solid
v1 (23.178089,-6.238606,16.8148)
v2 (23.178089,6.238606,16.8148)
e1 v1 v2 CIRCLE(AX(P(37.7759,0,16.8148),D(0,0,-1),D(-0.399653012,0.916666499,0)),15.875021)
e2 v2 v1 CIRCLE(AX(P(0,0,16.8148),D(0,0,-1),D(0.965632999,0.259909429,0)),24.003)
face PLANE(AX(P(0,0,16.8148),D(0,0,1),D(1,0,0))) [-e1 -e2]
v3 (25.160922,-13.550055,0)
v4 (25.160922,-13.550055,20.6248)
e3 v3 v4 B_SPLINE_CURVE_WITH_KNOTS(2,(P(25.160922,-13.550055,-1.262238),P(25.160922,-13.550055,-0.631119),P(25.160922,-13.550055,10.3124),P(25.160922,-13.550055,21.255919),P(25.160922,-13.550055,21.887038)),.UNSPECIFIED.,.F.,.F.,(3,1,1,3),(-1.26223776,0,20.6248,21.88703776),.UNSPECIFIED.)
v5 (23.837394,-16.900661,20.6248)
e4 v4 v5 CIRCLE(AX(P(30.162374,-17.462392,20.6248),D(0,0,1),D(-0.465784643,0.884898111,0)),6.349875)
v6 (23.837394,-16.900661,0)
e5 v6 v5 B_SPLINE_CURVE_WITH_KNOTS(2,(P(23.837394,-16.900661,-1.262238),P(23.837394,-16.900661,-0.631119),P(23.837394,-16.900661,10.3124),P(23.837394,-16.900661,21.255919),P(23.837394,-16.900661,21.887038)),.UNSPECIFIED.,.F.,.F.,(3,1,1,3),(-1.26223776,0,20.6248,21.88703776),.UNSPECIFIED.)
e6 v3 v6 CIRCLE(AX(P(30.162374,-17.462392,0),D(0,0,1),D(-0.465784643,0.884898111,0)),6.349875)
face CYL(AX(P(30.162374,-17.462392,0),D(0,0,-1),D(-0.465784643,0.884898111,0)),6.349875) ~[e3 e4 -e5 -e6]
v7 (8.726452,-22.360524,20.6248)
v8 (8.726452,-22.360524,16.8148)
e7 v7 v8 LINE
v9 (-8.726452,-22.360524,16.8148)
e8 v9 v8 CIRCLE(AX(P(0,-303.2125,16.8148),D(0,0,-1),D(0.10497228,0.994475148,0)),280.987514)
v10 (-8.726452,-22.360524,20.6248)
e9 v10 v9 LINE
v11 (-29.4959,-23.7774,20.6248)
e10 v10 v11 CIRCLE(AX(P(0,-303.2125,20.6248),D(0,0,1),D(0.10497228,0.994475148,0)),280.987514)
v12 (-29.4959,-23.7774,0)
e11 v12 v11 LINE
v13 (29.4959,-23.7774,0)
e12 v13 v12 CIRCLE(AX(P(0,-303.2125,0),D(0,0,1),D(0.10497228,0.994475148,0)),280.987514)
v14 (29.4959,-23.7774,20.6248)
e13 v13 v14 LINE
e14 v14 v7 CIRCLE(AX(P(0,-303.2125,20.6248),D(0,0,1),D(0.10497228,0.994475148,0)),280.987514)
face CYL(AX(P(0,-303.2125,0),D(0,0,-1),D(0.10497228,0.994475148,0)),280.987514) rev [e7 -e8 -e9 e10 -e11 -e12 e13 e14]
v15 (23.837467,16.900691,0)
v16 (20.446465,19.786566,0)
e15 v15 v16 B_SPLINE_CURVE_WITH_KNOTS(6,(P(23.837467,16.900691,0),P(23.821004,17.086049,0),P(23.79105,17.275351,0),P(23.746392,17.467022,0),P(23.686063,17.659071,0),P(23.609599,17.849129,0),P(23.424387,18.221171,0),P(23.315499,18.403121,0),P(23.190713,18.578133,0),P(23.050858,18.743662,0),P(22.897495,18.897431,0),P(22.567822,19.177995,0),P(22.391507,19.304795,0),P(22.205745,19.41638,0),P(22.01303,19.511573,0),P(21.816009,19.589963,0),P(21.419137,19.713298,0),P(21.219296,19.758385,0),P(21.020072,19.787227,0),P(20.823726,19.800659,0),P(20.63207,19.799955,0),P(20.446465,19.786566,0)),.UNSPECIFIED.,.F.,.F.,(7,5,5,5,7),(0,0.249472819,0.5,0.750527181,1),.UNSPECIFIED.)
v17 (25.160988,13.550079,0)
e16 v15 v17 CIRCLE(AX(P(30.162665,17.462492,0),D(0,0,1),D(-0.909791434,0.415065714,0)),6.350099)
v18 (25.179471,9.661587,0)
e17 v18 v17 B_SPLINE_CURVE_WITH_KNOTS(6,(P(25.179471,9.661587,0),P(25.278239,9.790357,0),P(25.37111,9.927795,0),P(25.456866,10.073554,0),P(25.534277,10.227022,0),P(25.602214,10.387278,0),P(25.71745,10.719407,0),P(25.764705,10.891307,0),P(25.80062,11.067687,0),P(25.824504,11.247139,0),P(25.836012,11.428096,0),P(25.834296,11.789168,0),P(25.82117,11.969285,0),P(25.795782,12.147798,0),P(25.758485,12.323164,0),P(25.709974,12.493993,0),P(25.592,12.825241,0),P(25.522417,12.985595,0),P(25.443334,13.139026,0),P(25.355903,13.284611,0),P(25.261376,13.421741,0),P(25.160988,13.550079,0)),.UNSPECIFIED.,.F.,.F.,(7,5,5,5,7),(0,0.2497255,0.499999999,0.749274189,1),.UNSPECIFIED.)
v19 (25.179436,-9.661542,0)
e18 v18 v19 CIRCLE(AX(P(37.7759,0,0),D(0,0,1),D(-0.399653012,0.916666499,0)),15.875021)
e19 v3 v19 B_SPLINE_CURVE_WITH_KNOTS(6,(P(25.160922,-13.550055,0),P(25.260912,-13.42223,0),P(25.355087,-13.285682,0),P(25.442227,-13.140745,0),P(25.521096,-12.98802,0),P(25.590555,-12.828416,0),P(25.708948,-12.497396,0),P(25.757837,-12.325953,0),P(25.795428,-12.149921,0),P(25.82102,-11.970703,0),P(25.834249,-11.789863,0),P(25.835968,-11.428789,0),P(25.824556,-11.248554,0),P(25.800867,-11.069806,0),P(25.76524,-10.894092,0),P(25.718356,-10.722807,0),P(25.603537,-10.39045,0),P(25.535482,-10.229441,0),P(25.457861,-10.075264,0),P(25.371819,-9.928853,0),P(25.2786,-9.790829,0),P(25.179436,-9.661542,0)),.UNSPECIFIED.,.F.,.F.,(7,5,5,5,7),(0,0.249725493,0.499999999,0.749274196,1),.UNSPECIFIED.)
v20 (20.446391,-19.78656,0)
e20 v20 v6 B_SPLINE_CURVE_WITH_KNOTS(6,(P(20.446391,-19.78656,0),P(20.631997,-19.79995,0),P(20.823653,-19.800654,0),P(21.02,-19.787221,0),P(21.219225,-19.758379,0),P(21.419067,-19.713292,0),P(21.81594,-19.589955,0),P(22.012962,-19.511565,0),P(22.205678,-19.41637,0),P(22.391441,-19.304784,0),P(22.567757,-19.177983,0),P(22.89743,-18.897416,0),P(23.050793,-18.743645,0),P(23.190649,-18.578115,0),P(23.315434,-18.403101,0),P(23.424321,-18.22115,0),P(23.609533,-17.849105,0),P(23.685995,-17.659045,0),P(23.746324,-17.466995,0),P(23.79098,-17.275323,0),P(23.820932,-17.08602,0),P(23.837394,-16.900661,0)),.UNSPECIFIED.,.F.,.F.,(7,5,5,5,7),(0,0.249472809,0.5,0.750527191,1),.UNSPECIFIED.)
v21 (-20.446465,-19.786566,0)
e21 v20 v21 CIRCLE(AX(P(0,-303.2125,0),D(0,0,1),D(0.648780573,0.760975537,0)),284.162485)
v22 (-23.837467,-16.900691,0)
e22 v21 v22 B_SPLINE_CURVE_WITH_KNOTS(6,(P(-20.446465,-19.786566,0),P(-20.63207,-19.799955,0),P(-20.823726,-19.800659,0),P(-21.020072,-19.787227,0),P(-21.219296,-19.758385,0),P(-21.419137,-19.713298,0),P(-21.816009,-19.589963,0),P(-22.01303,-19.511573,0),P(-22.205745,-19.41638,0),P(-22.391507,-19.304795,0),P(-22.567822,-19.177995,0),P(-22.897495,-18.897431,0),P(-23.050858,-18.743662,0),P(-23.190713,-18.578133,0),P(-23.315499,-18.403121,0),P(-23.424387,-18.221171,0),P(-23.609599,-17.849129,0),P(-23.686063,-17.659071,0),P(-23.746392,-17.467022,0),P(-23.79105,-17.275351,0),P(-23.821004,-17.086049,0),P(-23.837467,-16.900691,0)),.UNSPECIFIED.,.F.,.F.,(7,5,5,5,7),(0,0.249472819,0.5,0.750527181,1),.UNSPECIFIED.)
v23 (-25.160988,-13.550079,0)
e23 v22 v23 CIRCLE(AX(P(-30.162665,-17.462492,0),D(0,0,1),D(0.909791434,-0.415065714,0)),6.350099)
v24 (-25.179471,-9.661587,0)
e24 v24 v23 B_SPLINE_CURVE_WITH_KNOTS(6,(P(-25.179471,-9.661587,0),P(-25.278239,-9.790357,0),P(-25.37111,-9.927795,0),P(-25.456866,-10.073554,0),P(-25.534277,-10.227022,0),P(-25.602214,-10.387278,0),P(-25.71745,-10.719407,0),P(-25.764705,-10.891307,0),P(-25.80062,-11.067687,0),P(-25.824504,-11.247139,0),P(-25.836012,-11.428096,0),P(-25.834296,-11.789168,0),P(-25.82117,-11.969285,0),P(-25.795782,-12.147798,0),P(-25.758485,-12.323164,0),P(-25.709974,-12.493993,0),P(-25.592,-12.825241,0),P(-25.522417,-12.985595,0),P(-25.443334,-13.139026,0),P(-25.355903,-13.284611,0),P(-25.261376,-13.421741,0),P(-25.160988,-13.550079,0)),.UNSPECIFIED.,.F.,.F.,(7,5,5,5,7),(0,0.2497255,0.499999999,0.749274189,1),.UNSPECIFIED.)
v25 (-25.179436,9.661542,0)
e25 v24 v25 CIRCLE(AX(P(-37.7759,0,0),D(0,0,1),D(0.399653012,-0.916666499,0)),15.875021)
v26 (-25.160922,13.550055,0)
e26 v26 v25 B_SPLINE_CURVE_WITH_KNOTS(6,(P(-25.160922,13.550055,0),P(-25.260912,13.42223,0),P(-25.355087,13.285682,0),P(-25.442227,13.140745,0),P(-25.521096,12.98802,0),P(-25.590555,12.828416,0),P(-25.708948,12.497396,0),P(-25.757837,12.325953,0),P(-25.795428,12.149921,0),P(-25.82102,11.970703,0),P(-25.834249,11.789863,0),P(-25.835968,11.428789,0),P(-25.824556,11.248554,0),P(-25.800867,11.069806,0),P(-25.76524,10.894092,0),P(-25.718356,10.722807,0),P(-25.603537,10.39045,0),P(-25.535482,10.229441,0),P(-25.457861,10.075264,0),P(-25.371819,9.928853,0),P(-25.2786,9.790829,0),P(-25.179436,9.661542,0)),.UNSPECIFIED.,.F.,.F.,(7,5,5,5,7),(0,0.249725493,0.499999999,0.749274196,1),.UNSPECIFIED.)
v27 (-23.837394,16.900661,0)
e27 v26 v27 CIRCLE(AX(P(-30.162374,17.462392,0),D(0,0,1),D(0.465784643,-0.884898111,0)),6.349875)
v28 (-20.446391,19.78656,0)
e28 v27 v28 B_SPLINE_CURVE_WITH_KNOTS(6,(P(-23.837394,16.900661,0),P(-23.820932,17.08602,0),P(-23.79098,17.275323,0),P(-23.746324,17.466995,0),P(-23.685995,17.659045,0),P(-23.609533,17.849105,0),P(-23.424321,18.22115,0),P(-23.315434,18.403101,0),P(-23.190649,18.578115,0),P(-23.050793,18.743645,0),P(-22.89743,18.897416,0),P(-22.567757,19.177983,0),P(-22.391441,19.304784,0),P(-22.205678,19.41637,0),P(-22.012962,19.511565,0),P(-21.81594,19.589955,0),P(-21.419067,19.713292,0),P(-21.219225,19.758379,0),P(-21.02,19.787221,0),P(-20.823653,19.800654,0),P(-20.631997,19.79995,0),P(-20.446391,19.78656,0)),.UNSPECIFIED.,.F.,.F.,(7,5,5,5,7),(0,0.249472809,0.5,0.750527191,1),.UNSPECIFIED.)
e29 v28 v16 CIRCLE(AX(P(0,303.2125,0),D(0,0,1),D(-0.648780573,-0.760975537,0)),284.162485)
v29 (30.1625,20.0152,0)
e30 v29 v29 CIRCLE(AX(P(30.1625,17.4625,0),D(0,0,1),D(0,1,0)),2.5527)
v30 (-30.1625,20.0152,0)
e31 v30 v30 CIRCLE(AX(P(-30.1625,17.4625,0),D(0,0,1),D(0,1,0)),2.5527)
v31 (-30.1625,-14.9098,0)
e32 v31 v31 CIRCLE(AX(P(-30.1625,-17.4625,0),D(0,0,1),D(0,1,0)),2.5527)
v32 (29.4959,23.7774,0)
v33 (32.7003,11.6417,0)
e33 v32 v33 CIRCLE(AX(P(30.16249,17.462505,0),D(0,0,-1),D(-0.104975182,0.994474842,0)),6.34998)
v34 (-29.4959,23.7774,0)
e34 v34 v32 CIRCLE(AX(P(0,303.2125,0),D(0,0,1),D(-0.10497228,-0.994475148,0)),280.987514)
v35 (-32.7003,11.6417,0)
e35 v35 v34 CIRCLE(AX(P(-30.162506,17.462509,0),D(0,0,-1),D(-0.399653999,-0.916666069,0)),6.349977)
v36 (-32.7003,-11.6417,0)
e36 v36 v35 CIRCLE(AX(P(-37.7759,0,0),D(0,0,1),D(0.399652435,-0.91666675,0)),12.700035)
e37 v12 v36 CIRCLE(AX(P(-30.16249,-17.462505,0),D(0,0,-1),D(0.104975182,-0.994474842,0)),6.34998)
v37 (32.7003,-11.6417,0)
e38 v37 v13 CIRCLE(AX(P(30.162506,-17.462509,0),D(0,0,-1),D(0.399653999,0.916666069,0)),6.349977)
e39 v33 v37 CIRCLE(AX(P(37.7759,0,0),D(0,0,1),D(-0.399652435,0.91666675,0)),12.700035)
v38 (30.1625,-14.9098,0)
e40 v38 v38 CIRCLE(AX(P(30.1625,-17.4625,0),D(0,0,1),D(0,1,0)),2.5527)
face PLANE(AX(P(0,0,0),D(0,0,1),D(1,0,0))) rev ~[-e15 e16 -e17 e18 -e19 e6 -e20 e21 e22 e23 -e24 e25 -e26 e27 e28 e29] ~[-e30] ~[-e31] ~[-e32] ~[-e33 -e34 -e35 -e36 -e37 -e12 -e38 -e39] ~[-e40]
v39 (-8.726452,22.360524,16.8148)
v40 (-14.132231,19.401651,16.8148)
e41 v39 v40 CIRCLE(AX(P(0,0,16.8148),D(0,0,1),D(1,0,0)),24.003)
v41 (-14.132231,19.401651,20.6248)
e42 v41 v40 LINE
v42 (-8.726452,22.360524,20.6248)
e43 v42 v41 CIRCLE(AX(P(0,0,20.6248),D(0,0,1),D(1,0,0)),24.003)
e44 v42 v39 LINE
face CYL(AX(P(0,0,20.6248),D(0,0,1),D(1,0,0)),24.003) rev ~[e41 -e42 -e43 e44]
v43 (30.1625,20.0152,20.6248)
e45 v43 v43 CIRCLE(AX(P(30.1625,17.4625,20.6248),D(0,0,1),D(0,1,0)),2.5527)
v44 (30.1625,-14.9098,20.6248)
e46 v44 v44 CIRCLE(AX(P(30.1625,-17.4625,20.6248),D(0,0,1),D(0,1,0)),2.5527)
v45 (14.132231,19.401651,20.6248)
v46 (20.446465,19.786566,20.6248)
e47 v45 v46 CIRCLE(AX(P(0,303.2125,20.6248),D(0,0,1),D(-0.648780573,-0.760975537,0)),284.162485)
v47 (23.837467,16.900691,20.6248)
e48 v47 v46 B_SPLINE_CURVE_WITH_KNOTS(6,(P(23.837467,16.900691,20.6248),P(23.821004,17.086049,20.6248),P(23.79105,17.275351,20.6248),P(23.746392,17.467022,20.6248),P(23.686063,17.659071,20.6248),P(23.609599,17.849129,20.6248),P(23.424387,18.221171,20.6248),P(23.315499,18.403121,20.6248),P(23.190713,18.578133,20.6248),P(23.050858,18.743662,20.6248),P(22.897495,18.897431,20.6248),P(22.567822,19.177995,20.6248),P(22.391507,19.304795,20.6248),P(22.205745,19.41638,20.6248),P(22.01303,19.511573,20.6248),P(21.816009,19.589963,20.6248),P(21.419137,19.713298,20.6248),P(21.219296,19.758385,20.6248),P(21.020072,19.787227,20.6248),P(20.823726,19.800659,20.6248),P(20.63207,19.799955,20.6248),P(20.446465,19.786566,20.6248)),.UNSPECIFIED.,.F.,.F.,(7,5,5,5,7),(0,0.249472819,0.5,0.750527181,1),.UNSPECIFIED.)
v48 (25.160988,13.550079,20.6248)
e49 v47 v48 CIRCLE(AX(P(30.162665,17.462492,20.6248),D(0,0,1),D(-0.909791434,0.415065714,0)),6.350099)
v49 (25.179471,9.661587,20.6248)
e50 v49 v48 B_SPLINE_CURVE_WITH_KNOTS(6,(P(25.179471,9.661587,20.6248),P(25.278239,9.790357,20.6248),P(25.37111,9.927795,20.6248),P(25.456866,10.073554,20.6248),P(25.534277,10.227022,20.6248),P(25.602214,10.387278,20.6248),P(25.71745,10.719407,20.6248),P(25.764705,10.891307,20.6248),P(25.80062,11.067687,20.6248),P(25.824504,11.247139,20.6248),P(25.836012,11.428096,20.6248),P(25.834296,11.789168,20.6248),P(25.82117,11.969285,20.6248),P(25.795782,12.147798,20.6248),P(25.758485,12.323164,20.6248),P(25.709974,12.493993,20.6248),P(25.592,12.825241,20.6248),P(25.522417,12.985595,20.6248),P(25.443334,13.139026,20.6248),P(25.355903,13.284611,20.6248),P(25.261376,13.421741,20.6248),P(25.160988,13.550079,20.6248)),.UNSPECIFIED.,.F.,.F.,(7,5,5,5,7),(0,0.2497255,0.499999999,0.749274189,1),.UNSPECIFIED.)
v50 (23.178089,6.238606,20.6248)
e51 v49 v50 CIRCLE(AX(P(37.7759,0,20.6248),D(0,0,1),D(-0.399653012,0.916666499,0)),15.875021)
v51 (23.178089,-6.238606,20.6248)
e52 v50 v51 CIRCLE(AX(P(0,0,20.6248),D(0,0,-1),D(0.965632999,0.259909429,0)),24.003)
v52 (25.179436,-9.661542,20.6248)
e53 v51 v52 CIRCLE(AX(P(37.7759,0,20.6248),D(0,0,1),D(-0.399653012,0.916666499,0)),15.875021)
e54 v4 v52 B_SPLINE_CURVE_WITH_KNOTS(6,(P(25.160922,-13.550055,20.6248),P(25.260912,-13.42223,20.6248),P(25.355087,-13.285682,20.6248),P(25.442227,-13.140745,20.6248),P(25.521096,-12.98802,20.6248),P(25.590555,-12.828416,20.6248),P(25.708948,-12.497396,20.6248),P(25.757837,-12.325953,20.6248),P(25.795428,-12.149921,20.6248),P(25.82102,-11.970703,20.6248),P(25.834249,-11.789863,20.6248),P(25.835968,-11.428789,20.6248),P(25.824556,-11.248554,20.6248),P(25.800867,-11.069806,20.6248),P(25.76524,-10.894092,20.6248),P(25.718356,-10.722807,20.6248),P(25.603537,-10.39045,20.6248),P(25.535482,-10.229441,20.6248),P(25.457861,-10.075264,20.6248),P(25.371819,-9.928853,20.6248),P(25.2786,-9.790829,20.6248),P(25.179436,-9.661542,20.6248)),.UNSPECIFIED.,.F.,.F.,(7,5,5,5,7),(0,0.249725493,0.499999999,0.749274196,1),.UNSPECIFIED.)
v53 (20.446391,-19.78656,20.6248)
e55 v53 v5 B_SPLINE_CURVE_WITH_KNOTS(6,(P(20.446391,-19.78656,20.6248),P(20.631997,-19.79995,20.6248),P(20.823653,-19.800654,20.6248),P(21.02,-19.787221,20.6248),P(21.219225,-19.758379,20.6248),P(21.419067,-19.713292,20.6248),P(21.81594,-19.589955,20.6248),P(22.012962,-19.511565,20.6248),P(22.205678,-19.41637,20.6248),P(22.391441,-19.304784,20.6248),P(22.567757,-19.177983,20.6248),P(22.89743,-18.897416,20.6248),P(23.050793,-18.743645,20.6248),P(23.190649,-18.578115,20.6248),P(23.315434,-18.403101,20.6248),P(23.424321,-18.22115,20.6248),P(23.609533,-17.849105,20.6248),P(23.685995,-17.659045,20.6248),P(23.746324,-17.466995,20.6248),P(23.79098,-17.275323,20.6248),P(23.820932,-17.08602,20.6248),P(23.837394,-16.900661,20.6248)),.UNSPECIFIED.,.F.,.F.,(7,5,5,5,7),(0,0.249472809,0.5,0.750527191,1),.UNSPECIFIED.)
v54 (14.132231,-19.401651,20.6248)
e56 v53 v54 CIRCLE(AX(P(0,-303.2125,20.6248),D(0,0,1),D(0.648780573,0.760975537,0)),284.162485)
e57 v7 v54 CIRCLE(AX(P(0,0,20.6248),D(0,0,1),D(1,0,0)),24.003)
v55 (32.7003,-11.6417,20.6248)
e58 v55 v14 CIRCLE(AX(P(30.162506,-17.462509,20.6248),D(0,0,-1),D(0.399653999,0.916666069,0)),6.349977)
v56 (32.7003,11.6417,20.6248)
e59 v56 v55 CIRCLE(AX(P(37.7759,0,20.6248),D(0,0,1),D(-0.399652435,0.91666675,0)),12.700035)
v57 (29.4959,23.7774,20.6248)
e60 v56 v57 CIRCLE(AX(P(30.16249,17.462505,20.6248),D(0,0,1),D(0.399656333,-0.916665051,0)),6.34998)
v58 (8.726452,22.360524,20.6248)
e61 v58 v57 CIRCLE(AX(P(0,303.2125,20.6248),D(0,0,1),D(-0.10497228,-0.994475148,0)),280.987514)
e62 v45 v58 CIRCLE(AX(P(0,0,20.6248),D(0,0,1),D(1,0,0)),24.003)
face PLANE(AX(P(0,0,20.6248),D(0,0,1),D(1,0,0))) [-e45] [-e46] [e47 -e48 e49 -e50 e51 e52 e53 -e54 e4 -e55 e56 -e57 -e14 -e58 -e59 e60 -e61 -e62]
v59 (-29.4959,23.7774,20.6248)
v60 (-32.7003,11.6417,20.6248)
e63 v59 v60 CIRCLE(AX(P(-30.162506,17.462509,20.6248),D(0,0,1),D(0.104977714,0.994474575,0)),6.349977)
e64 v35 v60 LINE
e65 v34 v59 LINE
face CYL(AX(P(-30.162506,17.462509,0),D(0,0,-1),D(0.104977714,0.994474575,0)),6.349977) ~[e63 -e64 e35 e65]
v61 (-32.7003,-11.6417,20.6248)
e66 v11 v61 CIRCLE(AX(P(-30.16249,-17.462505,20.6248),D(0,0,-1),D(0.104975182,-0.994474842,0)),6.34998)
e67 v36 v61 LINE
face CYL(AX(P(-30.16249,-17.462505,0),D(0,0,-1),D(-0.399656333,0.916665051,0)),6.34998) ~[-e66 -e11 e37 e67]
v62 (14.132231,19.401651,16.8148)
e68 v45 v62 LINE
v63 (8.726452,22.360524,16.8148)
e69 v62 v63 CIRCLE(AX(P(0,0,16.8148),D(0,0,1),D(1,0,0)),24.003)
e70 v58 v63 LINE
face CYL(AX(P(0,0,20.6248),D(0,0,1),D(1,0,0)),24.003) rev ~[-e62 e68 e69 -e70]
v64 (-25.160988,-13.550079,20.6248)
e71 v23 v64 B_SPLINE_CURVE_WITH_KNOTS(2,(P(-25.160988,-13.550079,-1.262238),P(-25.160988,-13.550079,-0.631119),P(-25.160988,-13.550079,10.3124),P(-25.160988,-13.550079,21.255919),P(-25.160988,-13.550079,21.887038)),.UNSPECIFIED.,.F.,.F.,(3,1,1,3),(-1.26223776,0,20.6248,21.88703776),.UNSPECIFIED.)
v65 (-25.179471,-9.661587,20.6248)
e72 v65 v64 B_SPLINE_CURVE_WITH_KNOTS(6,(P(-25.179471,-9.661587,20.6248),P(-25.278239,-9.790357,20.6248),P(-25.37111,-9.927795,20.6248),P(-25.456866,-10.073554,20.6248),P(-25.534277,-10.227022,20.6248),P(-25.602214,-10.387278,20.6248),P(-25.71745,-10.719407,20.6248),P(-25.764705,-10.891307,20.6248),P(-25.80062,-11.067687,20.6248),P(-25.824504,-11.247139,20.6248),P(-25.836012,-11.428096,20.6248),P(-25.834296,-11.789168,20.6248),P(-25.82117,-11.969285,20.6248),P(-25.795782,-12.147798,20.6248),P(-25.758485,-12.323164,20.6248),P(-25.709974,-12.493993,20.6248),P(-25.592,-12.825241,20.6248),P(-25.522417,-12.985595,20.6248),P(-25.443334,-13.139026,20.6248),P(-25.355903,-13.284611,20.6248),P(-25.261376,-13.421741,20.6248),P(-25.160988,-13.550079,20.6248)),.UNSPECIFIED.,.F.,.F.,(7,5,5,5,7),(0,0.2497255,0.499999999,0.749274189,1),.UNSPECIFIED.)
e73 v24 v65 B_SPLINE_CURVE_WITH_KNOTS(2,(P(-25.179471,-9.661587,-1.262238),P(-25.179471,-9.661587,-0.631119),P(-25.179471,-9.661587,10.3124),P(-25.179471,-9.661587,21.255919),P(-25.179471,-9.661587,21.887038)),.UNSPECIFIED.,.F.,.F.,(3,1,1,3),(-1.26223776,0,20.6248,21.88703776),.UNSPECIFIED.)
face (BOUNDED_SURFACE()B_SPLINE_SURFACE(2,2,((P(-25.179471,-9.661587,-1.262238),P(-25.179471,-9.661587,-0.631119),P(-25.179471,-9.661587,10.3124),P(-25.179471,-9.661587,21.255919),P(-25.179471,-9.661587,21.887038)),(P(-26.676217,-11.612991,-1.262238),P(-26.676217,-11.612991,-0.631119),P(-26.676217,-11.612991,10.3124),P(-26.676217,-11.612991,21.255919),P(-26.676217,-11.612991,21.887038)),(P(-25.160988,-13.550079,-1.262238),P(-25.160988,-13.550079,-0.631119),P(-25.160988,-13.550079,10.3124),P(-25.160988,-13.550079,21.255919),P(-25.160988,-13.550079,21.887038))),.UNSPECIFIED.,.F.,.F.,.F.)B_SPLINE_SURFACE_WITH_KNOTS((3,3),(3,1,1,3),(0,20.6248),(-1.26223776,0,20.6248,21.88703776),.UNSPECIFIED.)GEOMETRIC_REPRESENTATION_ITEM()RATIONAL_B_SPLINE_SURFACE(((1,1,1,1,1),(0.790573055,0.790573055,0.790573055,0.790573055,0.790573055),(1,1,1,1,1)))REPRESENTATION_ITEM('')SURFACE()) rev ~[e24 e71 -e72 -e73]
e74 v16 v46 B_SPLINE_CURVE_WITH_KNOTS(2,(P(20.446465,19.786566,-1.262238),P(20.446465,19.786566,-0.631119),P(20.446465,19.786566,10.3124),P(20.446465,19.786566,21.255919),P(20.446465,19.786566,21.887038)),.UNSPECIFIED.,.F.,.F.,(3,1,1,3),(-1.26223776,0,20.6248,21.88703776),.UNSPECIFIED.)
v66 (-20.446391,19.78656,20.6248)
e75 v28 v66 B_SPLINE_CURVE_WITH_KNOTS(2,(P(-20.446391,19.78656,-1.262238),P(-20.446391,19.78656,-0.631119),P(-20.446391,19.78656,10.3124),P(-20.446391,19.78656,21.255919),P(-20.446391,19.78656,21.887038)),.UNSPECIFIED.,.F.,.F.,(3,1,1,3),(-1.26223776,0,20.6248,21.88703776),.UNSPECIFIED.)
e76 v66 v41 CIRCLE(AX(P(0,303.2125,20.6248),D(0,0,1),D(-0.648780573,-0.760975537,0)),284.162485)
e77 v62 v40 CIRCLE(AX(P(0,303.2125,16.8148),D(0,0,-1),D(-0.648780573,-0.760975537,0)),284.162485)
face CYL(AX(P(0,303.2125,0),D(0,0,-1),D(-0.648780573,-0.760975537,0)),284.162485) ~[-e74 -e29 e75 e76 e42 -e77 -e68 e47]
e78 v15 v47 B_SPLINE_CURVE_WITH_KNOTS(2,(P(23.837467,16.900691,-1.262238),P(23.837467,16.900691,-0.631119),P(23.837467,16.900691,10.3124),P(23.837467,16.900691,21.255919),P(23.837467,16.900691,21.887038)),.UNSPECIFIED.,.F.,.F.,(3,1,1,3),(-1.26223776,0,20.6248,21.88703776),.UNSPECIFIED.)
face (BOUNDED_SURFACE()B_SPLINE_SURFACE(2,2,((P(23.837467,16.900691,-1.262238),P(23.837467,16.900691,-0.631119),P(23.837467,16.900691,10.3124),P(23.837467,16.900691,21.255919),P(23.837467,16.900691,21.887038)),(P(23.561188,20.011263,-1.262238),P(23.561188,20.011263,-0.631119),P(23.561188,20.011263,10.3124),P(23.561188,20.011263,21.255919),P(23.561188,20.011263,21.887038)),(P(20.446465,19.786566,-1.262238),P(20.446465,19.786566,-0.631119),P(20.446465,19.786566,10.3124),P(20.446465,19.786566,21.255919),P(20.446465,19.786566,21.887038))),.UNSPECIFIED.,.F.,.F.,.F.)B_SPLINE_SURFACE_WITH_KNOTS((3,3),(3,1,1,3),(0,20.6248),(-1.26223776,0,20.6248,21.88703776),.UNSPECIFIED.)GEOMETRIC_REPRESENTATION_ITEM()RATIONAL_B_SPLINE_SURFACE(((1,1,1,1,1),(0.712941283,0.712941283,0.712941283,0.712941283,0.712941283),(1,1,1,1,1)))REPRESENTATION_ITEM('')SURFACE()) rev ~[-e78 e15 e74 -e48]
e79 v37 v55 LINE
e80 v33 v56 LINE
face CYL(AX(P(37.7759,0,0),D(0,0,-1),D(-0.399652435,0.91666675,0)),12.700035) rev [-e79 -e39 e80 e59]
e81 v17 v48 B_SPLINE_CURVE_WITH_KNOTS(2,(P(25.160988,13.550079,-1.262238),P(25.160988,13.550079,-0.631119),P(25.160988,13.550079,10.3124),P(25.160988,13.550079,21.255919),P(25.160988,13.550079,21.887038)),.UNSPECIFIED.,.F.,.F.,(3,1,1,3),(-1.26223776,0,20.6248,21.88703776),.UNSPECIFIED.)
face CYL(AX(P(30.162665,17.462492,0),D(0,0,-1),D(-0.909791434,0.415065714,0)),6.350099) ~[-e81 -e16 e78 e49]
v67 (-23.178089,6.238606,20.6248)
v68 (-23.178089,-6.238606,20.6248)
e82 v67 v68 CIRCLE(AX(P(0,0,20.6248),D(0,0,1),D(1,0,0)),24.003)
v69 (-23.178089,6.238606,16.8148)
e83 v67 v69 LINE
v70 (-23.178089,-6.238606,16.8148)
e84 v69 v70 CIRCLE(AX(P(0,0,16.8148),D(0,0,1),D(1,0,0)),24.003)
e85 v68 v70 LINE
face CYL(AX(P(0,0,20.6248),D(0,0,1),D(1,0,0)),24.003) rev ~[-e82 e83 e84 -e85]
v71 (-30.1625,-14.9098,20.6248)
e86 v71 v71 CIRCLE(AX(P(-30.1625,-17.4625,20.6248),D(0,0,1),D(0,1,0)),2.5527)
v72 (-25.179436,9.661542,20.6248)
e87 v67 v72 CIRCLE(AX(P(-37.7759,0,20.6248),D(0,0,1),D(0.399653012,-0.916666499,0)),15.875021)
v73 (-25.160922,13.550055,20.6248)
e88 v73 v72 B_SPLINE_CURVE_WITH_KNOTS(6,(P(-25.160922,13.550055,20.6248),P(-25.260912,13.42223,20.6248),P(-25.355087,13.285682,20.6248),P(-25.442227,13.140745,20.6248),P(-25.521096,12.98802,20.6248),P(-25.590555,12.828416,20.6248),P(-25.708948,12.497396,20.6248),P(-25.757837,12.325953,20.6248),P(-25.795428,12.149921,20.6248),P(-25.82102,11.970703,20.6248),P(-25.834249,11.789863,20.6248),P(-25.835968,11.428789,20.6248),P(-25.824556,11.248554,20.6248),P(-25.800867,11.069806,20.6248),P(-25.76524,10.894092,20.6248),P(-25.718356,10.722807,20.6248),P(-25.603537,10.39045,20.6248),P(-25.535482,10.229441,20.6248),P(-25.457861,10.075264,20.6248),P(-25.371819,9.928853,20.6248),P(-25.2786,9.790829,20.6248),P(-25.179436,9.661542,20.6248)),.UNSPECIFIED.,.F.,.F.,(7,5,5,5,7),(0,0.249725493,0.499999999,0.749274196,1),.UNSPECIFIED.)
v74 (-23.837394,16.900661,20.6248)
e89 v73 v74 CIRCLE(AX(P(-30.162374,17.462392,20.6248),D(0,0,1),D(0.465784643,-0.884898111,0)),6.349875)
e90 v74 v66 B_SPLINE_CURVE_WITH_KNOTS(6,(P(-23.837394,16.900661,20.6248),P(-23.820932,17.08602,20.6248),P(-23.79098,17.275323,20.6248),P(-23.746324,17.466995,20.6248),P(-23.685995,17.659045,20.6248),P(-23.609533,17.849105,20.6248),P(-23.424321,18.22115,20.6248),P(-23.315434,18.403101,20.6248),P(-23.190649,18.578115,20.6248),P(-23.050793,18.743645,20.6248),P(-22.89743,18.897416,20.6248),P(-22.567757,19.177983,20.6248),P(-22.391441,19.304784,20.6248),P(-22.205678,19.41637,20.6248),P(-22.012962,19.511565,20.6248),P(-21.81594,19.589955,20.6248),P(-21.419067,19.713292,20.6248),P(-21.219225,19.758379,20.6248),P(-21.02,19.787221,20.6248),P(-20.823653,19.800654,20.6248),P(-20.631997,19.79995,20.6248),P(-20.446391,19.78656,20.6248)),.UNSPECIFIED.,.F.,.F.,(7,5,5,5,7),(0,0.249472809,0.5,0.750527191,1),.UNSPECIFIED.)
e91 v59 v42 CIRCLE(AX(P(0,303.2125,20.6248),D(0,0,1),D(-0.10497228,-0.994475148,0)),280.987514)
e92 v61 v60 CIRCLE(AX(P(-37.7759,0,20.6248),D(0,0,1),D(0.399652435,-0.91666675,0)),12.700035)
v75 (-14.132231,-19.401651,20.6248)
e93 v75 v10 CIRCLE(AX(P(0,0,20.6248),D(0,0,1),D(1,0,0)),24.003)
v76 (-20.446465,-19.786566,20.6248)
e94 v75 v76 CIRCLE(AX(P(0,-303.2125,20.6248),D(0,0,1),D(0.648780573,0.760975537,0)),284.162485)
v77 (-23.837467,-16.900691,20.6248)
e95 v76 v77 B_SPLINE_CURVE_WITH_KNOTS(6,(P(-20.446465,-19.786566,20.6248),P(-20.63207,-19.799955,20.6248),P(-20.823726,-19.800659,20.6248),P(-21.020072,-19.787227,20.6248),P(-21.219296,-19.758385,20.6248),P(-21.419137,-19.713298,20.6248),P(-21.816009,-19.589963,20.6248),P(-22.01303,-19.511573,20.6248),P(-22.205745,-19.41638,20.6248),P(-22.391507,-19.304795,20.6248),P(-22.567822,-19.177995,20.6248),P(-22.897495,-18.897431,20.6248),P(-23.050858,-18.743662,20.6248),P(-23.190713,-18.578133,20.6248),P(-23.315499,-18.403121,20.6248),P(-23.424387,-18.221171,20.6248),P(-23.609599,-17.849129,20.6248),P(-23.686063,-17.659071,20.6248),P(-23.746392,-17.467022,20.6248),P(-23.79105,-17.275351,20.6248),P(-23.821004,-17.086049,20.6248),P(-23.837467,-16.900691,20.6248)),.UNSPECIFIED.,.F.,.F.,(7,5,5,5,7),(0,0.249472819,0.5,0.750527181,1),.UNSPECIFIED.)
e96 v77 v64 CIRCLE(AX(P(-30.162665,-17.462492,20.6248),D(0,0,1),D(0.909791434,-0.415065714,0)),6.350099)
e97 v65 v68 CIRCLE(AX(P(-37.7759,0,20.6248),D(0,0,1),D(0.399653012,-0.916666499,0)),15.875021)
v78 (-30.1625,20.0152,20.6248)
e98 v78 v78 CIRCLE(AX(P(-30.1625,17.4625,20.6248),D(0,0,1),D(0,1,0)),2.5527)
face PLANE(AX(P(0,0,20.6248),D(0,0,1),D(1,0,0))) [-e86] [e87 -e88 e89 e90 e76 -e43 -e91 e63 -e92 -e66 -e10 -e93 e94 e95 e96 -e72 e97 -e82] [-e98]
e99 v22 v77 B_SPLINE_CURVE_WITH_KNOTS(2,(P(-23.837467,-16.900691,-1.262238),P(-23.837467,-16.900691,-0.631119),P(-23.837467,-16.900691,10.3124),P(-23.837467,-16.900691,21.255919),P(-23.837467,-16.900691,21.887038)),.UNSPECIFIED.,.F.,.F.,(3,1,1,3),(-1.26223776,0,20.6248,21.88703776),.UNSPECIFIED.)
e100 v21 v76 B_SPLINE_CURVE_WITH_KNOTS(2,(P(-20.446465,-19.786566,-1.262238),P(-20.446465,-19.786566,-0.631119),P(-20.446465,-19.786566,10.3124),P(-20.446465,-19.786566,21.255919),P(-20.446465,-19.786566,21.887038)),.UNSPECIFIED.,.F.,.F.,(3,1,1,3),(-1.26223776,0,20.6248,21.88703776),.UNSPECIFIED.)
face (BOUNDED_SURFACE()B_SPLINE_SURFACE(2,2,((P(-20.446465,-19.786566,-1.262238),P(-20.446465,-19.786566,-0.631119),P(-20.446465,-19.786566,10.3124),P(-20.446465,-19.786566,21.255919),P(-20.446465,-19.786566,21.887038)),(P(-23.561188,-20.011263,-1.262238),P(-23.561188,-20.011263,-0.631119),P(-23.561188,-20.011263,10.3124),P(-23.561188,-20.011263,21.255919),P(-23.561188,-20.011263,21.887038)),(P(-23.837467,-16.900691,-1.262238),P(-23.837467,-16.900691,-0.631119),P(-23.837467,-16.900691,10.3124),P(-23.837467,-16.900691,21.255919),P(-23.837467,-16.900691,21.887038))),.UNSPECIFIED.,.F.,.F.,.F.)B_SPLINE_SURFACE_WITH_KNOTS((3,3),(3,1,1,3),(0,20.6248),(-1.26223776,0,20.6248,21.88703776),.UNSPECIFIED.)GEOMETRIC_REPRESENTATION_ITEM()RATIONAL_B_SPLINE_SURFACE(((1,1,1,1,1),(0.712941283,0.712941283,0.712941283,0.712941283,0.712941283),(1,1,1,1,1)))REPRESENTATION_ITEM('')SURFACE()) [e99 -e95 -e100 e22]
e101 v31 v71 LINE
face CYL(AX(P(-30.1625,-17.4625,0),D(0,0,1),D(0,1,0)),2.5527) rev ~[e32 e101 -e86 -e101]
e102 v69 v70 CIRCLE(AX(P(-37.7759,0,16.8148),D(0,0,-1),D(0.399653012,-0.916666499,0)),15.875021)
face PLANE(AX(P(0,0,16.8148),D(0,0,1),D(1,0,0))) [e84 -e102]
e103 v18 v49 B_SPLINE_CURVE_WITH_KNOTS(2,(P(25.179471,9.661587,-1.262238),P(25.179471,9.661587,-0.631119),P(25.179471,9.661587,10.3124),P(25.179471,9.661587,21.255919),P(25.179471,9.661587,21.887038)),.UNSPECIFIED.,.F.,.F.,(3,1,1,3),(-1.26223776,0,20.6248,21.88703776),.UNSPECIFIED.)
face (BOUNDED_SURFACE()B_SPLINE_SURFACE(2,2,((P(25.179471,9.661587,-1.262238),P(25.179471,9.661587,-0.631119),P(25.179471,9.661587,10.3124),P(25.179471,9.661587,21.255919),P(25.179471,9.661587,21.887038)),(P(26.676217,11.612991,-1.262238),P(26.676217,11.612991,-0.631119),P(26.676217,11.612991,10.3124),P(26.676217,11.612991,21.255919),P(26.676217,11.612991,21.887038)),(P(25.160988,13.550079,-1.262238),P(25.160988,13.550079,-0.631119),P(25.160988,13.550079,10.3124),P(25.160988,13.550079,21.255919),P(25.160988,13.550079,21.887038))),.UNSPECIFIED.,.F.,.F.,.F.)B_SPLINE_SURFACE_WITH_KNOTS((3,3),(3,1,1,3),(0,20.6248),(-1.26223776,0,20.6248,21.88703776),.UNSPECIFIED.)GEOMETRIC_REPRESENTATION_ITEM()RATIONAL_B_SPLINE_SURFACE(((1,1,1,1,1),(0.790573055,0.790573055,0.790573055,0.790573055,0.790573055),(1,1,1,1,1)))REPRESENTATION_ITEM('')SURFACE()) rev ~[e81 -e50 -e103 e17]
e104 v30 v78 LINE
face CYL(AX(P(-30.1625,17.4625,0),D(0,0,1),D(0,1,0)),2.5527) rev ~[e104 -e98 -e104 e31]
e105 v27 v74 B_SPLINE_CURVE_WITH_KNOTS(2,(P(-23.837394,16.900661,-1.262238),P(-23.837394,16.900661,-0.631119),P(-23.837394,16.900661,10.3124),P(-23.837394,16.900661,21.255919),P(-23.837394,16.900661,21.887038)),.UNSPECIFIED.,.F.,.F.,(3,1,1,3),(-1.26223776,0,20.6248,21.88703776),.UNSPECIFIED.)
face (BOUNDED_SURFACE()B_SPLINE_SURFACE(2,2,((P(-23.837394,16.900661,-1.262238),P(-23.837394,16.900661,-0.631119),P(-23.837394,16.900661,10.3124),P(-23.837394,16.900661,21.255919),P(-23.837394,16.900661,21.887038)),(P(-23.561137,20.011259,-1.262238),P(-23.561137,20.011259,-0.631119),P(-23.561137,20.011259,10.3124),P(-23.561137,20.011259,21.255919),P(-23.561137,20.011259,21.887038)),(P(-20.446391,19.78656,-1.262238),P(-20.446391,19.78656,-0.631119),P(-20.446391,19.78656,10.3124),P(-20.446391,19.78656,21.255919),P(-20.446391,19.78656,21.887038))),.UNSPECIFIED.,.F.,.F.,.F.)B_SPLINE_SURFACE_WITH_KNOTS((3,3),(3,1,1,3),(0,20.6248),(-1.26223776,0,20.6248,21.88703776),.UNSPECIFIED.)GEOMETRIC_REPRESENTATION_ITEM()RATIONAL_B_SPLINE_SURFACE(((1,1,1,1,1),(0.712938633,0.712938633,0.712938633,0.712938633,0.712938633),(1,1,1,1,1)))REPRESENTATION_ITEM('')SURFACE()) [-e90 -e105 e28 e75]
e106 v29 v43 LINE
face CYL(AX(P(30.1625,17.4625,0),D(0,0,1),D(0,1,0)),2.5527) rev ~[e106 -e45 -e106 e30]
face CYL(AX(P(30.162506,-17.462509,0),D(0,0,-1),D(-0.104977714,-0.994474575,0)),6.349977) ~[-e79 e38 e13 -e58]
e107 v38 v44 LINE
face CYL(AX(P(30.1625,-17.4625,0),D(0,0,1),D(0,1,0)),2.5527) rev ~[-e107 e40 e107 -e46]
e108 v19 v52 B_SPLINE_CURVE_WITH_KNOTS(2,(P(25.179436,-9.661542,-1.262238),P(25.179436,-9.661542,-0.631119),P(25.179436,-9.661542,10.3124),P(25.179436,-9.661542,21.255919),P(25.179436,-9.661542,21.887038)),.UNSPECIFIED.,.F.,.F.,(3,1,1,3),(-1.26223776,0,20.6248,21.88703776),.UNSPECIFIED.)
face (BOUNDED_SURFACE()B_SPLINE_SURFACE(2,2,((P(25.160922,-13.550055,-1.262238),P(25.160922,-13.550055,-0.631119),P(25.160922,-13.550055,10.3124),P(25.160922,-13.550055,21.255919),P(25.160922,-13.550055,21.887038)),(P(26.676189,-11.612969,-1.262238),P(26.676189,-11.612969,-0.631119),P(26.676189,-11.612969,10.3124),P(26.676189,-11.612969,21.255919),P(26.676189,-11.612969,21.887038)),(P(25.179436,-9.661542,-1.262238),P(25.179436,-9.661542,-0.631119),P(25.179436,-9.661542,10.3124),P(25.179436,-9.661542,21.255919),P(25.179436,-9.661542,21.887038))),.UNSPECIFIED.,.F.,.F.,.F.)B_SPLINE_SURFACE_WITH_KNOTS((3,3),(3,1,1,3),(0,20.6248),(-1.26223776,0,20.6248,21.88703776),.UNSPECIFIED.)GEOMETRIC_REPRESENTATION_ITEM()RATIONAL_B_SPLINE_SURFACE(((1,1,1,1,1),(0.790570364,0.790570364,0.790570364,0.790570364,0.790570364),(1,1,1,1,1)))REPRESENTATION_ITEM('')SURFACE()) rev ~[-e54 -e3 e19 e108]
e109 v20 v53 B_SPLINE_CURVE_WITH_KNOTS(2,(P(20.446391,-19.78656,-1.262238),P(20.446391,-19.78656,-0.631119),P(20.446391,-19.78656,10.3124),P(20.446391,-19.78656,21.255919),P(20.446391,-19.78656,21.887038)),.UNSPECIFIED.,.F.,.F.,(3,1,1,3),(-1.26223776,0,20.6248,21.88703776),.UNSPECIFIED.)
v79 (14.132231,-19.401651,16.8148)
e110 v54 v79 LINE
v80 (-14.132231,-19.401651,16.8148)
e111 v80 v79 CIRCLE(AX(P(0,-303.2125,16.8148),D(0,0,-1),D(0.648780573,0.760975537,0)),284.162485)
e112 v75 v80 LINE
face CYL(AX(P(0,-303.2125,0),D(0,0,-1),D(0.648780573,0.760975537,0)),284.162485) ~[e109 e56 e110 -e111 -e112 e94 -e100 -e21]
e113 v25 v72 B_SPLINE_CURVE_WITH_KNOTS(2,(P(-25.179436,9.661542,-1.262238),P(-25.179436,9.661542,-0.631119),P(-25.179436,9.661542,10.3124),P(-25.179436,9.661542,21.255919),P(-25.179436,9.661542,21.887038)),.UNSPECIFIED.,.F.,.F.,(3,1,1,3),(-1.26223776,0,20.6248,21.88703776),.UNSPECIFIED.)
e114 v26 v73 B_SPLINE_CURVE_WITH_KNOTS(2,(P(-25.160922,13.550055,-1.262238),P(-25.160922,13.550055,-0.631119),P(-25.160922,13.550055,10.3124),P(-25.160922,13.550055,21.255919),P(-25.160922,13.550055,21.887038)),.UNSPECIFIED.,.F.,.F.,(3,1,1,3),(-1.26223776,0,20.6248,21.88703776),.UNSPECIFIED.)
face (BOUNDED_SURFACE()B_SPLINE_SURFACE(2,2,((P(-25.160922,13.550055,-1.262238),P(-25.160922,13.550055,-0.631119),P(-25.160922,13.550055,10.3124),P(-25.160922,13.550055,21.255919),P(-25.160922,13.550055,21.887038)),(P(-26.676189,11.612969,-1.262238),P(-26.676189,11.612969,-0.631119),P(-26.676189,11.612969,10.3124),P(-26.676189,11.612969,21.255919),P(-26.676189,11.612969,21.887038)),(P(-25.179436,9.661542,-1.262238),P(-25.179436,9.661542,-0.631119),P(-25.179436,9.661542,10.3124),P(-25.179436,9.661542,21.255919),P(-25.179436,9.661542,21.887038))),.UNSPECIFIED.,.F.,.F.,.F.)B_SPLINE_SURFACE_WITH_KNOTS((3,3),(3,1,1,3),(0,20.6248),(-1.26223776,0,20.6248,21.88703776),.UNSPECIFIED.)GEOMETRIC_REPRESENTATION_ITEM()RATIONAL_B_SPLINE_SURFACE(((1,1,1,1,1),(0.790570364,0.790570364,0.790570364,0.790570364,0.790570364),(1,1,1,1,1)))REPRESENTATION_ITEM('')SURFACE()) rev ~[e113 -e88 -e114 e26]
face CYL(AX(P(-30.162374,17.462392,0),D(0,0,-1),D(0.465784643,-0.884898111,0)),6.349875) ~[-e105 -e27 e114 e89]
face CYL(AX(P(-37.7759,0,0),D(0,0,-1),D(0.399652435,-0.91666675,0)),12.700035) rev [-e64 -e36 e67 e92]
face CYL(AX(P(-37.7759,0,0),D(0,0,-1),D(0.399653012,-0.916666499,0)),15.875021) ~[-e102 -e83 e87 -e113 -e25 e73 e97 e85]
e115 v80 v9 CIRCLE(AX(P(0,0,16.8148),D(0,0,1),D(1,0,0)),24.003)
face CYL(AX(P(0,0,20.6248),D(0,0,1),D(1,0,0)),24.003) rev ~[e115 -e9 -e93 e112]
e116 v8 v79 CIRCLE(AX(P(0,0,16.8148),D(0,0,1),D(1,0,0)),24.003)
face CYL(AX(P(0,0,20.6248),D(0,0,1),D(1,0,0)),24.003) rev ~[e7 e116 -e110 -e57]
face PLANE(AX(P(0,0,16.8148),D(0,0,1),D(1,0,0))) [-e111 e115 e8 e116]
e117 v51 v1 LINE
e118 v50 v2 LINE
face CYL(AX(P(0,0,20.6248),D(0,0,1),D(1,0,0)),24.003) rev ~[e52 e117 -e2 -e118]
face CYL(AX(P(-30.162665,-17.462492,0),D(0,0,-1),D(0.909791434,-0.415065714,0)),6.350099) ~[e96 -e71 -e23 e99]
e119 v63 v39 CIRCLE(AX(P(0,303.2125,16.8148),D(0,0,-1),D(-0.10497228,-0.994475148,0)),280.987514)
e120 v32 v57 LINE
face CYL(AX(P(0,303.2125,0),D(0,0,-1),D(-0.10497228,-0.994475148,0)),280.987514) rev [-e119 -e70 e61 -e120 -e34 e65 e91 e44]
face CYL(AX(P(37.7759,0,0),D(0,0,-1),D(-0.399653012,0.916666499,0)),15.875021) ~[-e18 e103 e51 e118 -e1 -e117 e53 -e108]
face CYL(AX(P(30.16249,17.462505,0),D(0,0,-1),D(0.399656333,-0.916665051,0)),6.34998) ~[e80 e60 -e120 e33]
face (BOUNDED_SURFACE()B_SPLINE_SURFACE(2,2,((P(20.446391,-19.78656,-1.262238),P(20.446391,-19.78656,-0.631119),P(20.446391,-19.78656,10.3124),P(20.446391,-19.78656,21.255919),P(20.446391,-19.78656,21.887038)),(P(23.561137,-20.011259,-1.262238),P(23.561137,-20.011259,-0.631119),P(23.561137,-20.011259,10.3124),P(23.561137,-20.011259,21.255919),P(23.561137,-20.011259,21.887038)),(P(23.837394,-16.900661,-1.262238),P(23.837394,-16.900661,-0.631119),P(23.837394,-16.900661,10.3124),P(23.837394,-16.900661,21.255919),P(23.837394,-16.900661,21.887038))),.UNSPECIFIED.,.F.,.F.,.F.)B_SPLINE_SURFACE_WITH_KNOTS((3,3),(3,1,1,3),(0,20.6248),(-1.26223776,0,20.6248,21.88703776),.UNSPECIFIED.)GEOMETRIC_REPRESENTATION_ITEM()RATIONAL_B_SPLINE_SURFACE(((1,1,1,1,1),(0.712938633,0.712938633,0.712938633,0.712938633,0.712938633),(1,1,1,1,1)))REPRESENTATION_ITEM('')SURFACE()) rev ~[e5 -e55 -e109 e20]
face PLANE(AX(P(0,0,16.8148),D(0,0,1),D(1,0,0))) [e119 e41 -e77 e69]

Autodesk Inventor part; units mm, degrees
ref_plane "YZ Plane" through (0, 0, 0) normal (1, 0, 0) x (0, 1, 0)
ref_plane "XZ Plane" through (0, 0, 0) normal (0, 1, 0) x (-1, 0, 0)
ref_plane "XY Plane" through (0, 0, 0) normal (0, 0, 1) x (1, 0, 0)
sketch "Sketch1" plane through (0, 0, 0) normal (0, 0, 1) x (1, 0, 0)
  line L0 (-30.1625, -17.4625) -> (30.1625, -17.4625) construction
  line L1 (30.1625, -17.4625) -> (30.1625, 17.4625) construction
  line L2 (30.1625, 17.4625) -> (-30.1625, 17.4625) construction
  line L3 (-30.1625, 17.4625) -> (-30.1625, -17.4625) construction
  line L4 (-30.1625, -17.4625) -> (30.1625, 17.4625) construction
  line L5 (30.1625, -17.4625) -> (-30.1625, 17.4625) construction
  circle A0 centre (-30.1625, -17.4625) radius 6.35 construction
  circle A1 centre (-30.1625, 17.4625) radius 6.35 construction
  circle A2 centre (30.1625, 17.4625) radius 6.35 construction
  circle A3 centre (30.1625, -17.4625) radius 6.35 construction
  circle A4 centre (0, 0) radius 22.225 construction
  arc A5 (29.4959, -23.7774) -> (-29.4959, -23.7774) centre (0, -303.2125) ccw
  arc A6 (32.7003, 11.6417) -> (32.7003, -11.6417) centre (37.7759, 0) ccw
  arc A7 (-29.4959, 23.7774) -> (29.4959, 23.7774) centre (0, 303.2125) ccw
  arc A8 (-32.7003, -11.6417) -> (-32.7003, 11.6417) centre (-37.7759, 0) ccw
  arc A9 (-31.4314, -14.5521) -> (-31.4314, 14.5521) centre (-37.7759, 0) ccw
  arc A10 (184.3591, -86.9718) -> (-184.3591, -86.9718) centre (0, -303.2125) ccw
  arc A11 (31.4314, 14.5521) -> (31.4314, -14.5521) centre (37.7759, 0) ccw
  arc A12 (-184.3591, 86.9718) -> (184.3591, 86.9718) centre (0, 303.2125) ccw
  arc A13 (-29.4959, 23.7774) -> (-32.7003, 11.6417) centre (-30.1625, 17.4625) ccw
  arc A14 (-27.2047, 11.8434) -> (-24.3854, 20.0982) centre (-30.1625, 17.4625) ccw
  arc A15 (32.7003, 11.6417) -> (29.4959, 23.7774) centre (30.1625, 17.4625) ccw
  arc A16 (24.3854, 20.0982) -> (27.2047, 11.8434) centre (30.1625, 17.4625) ccw
  arc A17 (29.4959, -23.7774) -> (32.7003, -11.6417) centre (30.1625, -17.4625) ccw
  arc A18 (27.2047, -11.8434) -> (24.3854, -20.0982) centre (30.1625, -17.4625) ccw
  arc A19 (-32.7003, -11.6417) -> (-29.4959, -23.7774) centre (-30.1625, -17.4625) ccw
  arc A20 (-24.3854, -20.0982) -> (-27.2047, -11.8434) centre (-30.1625, -17.4625) ccw
  dimension "d0" = 60.325
  dimension "d1" = 34.925
  dimension "d2" = 12.7
  dimension "d3" = 12.7
  dimension "d4" = 12.7
  dimension "d5" = 12.7
  dimension "d6" = 44.45
  dimension "d7" = 12.7
  dimension "d8" = 12.7
  dimension "d9" = 3.175
  dimension "d10" = 3.175
extrude "Extrusion1" add sketch "Sketch1" along normal blind 20.6248 contours A5 A19 A10 A17 | A10 A18 A11 A16 A12 A15 A6 A17 | A19 A8 A13 A12 A14 A9 A20 A10 | A12 A13 A7 A15
fillet "Fillet1" radius 3.175 8 edges at (-27.2047, -11.8434, 10.3124) (-27.2047, 11.8434, 10.3124) (-24.3854, 20.0982, 10.3124) (24.3854, 20.0982, 10.3124) (27.2047, 11.8434, 10.3124) (27.2047, -11.8434, 10.3124) (24.3854, -20.0982, 10.3124) (-24.3854, -20.0982, 10.3124)
hole "Hole1" at (30.1625, 17.4625, 0) at (30.1625, -17.4625, 0) at (-30.1625, -17.4625, 0) at (-30.1625, 17.4625, 0) direction (0, 0, 1) diameter 5.1054 end through all clearance for "Flat Head Machine Screw (82)" size "#10" standard "Ansi Unified Screw Threads"
sketch "Sketch3" plane through (0, 0, 20.6248) normal (0, 0, 1) x (1, 0, 0)
  circle A0 centre (0, 0) radius 24.003
  dimension "d21" = 48.006
extrude "Extrusion2" cut sketch "Sketch3" against normal blind 3.81
equation "\"d8\" = d7"
equation "\"d10\" = d9"
properties part number "AR-011" material "Aluminum 6061"
